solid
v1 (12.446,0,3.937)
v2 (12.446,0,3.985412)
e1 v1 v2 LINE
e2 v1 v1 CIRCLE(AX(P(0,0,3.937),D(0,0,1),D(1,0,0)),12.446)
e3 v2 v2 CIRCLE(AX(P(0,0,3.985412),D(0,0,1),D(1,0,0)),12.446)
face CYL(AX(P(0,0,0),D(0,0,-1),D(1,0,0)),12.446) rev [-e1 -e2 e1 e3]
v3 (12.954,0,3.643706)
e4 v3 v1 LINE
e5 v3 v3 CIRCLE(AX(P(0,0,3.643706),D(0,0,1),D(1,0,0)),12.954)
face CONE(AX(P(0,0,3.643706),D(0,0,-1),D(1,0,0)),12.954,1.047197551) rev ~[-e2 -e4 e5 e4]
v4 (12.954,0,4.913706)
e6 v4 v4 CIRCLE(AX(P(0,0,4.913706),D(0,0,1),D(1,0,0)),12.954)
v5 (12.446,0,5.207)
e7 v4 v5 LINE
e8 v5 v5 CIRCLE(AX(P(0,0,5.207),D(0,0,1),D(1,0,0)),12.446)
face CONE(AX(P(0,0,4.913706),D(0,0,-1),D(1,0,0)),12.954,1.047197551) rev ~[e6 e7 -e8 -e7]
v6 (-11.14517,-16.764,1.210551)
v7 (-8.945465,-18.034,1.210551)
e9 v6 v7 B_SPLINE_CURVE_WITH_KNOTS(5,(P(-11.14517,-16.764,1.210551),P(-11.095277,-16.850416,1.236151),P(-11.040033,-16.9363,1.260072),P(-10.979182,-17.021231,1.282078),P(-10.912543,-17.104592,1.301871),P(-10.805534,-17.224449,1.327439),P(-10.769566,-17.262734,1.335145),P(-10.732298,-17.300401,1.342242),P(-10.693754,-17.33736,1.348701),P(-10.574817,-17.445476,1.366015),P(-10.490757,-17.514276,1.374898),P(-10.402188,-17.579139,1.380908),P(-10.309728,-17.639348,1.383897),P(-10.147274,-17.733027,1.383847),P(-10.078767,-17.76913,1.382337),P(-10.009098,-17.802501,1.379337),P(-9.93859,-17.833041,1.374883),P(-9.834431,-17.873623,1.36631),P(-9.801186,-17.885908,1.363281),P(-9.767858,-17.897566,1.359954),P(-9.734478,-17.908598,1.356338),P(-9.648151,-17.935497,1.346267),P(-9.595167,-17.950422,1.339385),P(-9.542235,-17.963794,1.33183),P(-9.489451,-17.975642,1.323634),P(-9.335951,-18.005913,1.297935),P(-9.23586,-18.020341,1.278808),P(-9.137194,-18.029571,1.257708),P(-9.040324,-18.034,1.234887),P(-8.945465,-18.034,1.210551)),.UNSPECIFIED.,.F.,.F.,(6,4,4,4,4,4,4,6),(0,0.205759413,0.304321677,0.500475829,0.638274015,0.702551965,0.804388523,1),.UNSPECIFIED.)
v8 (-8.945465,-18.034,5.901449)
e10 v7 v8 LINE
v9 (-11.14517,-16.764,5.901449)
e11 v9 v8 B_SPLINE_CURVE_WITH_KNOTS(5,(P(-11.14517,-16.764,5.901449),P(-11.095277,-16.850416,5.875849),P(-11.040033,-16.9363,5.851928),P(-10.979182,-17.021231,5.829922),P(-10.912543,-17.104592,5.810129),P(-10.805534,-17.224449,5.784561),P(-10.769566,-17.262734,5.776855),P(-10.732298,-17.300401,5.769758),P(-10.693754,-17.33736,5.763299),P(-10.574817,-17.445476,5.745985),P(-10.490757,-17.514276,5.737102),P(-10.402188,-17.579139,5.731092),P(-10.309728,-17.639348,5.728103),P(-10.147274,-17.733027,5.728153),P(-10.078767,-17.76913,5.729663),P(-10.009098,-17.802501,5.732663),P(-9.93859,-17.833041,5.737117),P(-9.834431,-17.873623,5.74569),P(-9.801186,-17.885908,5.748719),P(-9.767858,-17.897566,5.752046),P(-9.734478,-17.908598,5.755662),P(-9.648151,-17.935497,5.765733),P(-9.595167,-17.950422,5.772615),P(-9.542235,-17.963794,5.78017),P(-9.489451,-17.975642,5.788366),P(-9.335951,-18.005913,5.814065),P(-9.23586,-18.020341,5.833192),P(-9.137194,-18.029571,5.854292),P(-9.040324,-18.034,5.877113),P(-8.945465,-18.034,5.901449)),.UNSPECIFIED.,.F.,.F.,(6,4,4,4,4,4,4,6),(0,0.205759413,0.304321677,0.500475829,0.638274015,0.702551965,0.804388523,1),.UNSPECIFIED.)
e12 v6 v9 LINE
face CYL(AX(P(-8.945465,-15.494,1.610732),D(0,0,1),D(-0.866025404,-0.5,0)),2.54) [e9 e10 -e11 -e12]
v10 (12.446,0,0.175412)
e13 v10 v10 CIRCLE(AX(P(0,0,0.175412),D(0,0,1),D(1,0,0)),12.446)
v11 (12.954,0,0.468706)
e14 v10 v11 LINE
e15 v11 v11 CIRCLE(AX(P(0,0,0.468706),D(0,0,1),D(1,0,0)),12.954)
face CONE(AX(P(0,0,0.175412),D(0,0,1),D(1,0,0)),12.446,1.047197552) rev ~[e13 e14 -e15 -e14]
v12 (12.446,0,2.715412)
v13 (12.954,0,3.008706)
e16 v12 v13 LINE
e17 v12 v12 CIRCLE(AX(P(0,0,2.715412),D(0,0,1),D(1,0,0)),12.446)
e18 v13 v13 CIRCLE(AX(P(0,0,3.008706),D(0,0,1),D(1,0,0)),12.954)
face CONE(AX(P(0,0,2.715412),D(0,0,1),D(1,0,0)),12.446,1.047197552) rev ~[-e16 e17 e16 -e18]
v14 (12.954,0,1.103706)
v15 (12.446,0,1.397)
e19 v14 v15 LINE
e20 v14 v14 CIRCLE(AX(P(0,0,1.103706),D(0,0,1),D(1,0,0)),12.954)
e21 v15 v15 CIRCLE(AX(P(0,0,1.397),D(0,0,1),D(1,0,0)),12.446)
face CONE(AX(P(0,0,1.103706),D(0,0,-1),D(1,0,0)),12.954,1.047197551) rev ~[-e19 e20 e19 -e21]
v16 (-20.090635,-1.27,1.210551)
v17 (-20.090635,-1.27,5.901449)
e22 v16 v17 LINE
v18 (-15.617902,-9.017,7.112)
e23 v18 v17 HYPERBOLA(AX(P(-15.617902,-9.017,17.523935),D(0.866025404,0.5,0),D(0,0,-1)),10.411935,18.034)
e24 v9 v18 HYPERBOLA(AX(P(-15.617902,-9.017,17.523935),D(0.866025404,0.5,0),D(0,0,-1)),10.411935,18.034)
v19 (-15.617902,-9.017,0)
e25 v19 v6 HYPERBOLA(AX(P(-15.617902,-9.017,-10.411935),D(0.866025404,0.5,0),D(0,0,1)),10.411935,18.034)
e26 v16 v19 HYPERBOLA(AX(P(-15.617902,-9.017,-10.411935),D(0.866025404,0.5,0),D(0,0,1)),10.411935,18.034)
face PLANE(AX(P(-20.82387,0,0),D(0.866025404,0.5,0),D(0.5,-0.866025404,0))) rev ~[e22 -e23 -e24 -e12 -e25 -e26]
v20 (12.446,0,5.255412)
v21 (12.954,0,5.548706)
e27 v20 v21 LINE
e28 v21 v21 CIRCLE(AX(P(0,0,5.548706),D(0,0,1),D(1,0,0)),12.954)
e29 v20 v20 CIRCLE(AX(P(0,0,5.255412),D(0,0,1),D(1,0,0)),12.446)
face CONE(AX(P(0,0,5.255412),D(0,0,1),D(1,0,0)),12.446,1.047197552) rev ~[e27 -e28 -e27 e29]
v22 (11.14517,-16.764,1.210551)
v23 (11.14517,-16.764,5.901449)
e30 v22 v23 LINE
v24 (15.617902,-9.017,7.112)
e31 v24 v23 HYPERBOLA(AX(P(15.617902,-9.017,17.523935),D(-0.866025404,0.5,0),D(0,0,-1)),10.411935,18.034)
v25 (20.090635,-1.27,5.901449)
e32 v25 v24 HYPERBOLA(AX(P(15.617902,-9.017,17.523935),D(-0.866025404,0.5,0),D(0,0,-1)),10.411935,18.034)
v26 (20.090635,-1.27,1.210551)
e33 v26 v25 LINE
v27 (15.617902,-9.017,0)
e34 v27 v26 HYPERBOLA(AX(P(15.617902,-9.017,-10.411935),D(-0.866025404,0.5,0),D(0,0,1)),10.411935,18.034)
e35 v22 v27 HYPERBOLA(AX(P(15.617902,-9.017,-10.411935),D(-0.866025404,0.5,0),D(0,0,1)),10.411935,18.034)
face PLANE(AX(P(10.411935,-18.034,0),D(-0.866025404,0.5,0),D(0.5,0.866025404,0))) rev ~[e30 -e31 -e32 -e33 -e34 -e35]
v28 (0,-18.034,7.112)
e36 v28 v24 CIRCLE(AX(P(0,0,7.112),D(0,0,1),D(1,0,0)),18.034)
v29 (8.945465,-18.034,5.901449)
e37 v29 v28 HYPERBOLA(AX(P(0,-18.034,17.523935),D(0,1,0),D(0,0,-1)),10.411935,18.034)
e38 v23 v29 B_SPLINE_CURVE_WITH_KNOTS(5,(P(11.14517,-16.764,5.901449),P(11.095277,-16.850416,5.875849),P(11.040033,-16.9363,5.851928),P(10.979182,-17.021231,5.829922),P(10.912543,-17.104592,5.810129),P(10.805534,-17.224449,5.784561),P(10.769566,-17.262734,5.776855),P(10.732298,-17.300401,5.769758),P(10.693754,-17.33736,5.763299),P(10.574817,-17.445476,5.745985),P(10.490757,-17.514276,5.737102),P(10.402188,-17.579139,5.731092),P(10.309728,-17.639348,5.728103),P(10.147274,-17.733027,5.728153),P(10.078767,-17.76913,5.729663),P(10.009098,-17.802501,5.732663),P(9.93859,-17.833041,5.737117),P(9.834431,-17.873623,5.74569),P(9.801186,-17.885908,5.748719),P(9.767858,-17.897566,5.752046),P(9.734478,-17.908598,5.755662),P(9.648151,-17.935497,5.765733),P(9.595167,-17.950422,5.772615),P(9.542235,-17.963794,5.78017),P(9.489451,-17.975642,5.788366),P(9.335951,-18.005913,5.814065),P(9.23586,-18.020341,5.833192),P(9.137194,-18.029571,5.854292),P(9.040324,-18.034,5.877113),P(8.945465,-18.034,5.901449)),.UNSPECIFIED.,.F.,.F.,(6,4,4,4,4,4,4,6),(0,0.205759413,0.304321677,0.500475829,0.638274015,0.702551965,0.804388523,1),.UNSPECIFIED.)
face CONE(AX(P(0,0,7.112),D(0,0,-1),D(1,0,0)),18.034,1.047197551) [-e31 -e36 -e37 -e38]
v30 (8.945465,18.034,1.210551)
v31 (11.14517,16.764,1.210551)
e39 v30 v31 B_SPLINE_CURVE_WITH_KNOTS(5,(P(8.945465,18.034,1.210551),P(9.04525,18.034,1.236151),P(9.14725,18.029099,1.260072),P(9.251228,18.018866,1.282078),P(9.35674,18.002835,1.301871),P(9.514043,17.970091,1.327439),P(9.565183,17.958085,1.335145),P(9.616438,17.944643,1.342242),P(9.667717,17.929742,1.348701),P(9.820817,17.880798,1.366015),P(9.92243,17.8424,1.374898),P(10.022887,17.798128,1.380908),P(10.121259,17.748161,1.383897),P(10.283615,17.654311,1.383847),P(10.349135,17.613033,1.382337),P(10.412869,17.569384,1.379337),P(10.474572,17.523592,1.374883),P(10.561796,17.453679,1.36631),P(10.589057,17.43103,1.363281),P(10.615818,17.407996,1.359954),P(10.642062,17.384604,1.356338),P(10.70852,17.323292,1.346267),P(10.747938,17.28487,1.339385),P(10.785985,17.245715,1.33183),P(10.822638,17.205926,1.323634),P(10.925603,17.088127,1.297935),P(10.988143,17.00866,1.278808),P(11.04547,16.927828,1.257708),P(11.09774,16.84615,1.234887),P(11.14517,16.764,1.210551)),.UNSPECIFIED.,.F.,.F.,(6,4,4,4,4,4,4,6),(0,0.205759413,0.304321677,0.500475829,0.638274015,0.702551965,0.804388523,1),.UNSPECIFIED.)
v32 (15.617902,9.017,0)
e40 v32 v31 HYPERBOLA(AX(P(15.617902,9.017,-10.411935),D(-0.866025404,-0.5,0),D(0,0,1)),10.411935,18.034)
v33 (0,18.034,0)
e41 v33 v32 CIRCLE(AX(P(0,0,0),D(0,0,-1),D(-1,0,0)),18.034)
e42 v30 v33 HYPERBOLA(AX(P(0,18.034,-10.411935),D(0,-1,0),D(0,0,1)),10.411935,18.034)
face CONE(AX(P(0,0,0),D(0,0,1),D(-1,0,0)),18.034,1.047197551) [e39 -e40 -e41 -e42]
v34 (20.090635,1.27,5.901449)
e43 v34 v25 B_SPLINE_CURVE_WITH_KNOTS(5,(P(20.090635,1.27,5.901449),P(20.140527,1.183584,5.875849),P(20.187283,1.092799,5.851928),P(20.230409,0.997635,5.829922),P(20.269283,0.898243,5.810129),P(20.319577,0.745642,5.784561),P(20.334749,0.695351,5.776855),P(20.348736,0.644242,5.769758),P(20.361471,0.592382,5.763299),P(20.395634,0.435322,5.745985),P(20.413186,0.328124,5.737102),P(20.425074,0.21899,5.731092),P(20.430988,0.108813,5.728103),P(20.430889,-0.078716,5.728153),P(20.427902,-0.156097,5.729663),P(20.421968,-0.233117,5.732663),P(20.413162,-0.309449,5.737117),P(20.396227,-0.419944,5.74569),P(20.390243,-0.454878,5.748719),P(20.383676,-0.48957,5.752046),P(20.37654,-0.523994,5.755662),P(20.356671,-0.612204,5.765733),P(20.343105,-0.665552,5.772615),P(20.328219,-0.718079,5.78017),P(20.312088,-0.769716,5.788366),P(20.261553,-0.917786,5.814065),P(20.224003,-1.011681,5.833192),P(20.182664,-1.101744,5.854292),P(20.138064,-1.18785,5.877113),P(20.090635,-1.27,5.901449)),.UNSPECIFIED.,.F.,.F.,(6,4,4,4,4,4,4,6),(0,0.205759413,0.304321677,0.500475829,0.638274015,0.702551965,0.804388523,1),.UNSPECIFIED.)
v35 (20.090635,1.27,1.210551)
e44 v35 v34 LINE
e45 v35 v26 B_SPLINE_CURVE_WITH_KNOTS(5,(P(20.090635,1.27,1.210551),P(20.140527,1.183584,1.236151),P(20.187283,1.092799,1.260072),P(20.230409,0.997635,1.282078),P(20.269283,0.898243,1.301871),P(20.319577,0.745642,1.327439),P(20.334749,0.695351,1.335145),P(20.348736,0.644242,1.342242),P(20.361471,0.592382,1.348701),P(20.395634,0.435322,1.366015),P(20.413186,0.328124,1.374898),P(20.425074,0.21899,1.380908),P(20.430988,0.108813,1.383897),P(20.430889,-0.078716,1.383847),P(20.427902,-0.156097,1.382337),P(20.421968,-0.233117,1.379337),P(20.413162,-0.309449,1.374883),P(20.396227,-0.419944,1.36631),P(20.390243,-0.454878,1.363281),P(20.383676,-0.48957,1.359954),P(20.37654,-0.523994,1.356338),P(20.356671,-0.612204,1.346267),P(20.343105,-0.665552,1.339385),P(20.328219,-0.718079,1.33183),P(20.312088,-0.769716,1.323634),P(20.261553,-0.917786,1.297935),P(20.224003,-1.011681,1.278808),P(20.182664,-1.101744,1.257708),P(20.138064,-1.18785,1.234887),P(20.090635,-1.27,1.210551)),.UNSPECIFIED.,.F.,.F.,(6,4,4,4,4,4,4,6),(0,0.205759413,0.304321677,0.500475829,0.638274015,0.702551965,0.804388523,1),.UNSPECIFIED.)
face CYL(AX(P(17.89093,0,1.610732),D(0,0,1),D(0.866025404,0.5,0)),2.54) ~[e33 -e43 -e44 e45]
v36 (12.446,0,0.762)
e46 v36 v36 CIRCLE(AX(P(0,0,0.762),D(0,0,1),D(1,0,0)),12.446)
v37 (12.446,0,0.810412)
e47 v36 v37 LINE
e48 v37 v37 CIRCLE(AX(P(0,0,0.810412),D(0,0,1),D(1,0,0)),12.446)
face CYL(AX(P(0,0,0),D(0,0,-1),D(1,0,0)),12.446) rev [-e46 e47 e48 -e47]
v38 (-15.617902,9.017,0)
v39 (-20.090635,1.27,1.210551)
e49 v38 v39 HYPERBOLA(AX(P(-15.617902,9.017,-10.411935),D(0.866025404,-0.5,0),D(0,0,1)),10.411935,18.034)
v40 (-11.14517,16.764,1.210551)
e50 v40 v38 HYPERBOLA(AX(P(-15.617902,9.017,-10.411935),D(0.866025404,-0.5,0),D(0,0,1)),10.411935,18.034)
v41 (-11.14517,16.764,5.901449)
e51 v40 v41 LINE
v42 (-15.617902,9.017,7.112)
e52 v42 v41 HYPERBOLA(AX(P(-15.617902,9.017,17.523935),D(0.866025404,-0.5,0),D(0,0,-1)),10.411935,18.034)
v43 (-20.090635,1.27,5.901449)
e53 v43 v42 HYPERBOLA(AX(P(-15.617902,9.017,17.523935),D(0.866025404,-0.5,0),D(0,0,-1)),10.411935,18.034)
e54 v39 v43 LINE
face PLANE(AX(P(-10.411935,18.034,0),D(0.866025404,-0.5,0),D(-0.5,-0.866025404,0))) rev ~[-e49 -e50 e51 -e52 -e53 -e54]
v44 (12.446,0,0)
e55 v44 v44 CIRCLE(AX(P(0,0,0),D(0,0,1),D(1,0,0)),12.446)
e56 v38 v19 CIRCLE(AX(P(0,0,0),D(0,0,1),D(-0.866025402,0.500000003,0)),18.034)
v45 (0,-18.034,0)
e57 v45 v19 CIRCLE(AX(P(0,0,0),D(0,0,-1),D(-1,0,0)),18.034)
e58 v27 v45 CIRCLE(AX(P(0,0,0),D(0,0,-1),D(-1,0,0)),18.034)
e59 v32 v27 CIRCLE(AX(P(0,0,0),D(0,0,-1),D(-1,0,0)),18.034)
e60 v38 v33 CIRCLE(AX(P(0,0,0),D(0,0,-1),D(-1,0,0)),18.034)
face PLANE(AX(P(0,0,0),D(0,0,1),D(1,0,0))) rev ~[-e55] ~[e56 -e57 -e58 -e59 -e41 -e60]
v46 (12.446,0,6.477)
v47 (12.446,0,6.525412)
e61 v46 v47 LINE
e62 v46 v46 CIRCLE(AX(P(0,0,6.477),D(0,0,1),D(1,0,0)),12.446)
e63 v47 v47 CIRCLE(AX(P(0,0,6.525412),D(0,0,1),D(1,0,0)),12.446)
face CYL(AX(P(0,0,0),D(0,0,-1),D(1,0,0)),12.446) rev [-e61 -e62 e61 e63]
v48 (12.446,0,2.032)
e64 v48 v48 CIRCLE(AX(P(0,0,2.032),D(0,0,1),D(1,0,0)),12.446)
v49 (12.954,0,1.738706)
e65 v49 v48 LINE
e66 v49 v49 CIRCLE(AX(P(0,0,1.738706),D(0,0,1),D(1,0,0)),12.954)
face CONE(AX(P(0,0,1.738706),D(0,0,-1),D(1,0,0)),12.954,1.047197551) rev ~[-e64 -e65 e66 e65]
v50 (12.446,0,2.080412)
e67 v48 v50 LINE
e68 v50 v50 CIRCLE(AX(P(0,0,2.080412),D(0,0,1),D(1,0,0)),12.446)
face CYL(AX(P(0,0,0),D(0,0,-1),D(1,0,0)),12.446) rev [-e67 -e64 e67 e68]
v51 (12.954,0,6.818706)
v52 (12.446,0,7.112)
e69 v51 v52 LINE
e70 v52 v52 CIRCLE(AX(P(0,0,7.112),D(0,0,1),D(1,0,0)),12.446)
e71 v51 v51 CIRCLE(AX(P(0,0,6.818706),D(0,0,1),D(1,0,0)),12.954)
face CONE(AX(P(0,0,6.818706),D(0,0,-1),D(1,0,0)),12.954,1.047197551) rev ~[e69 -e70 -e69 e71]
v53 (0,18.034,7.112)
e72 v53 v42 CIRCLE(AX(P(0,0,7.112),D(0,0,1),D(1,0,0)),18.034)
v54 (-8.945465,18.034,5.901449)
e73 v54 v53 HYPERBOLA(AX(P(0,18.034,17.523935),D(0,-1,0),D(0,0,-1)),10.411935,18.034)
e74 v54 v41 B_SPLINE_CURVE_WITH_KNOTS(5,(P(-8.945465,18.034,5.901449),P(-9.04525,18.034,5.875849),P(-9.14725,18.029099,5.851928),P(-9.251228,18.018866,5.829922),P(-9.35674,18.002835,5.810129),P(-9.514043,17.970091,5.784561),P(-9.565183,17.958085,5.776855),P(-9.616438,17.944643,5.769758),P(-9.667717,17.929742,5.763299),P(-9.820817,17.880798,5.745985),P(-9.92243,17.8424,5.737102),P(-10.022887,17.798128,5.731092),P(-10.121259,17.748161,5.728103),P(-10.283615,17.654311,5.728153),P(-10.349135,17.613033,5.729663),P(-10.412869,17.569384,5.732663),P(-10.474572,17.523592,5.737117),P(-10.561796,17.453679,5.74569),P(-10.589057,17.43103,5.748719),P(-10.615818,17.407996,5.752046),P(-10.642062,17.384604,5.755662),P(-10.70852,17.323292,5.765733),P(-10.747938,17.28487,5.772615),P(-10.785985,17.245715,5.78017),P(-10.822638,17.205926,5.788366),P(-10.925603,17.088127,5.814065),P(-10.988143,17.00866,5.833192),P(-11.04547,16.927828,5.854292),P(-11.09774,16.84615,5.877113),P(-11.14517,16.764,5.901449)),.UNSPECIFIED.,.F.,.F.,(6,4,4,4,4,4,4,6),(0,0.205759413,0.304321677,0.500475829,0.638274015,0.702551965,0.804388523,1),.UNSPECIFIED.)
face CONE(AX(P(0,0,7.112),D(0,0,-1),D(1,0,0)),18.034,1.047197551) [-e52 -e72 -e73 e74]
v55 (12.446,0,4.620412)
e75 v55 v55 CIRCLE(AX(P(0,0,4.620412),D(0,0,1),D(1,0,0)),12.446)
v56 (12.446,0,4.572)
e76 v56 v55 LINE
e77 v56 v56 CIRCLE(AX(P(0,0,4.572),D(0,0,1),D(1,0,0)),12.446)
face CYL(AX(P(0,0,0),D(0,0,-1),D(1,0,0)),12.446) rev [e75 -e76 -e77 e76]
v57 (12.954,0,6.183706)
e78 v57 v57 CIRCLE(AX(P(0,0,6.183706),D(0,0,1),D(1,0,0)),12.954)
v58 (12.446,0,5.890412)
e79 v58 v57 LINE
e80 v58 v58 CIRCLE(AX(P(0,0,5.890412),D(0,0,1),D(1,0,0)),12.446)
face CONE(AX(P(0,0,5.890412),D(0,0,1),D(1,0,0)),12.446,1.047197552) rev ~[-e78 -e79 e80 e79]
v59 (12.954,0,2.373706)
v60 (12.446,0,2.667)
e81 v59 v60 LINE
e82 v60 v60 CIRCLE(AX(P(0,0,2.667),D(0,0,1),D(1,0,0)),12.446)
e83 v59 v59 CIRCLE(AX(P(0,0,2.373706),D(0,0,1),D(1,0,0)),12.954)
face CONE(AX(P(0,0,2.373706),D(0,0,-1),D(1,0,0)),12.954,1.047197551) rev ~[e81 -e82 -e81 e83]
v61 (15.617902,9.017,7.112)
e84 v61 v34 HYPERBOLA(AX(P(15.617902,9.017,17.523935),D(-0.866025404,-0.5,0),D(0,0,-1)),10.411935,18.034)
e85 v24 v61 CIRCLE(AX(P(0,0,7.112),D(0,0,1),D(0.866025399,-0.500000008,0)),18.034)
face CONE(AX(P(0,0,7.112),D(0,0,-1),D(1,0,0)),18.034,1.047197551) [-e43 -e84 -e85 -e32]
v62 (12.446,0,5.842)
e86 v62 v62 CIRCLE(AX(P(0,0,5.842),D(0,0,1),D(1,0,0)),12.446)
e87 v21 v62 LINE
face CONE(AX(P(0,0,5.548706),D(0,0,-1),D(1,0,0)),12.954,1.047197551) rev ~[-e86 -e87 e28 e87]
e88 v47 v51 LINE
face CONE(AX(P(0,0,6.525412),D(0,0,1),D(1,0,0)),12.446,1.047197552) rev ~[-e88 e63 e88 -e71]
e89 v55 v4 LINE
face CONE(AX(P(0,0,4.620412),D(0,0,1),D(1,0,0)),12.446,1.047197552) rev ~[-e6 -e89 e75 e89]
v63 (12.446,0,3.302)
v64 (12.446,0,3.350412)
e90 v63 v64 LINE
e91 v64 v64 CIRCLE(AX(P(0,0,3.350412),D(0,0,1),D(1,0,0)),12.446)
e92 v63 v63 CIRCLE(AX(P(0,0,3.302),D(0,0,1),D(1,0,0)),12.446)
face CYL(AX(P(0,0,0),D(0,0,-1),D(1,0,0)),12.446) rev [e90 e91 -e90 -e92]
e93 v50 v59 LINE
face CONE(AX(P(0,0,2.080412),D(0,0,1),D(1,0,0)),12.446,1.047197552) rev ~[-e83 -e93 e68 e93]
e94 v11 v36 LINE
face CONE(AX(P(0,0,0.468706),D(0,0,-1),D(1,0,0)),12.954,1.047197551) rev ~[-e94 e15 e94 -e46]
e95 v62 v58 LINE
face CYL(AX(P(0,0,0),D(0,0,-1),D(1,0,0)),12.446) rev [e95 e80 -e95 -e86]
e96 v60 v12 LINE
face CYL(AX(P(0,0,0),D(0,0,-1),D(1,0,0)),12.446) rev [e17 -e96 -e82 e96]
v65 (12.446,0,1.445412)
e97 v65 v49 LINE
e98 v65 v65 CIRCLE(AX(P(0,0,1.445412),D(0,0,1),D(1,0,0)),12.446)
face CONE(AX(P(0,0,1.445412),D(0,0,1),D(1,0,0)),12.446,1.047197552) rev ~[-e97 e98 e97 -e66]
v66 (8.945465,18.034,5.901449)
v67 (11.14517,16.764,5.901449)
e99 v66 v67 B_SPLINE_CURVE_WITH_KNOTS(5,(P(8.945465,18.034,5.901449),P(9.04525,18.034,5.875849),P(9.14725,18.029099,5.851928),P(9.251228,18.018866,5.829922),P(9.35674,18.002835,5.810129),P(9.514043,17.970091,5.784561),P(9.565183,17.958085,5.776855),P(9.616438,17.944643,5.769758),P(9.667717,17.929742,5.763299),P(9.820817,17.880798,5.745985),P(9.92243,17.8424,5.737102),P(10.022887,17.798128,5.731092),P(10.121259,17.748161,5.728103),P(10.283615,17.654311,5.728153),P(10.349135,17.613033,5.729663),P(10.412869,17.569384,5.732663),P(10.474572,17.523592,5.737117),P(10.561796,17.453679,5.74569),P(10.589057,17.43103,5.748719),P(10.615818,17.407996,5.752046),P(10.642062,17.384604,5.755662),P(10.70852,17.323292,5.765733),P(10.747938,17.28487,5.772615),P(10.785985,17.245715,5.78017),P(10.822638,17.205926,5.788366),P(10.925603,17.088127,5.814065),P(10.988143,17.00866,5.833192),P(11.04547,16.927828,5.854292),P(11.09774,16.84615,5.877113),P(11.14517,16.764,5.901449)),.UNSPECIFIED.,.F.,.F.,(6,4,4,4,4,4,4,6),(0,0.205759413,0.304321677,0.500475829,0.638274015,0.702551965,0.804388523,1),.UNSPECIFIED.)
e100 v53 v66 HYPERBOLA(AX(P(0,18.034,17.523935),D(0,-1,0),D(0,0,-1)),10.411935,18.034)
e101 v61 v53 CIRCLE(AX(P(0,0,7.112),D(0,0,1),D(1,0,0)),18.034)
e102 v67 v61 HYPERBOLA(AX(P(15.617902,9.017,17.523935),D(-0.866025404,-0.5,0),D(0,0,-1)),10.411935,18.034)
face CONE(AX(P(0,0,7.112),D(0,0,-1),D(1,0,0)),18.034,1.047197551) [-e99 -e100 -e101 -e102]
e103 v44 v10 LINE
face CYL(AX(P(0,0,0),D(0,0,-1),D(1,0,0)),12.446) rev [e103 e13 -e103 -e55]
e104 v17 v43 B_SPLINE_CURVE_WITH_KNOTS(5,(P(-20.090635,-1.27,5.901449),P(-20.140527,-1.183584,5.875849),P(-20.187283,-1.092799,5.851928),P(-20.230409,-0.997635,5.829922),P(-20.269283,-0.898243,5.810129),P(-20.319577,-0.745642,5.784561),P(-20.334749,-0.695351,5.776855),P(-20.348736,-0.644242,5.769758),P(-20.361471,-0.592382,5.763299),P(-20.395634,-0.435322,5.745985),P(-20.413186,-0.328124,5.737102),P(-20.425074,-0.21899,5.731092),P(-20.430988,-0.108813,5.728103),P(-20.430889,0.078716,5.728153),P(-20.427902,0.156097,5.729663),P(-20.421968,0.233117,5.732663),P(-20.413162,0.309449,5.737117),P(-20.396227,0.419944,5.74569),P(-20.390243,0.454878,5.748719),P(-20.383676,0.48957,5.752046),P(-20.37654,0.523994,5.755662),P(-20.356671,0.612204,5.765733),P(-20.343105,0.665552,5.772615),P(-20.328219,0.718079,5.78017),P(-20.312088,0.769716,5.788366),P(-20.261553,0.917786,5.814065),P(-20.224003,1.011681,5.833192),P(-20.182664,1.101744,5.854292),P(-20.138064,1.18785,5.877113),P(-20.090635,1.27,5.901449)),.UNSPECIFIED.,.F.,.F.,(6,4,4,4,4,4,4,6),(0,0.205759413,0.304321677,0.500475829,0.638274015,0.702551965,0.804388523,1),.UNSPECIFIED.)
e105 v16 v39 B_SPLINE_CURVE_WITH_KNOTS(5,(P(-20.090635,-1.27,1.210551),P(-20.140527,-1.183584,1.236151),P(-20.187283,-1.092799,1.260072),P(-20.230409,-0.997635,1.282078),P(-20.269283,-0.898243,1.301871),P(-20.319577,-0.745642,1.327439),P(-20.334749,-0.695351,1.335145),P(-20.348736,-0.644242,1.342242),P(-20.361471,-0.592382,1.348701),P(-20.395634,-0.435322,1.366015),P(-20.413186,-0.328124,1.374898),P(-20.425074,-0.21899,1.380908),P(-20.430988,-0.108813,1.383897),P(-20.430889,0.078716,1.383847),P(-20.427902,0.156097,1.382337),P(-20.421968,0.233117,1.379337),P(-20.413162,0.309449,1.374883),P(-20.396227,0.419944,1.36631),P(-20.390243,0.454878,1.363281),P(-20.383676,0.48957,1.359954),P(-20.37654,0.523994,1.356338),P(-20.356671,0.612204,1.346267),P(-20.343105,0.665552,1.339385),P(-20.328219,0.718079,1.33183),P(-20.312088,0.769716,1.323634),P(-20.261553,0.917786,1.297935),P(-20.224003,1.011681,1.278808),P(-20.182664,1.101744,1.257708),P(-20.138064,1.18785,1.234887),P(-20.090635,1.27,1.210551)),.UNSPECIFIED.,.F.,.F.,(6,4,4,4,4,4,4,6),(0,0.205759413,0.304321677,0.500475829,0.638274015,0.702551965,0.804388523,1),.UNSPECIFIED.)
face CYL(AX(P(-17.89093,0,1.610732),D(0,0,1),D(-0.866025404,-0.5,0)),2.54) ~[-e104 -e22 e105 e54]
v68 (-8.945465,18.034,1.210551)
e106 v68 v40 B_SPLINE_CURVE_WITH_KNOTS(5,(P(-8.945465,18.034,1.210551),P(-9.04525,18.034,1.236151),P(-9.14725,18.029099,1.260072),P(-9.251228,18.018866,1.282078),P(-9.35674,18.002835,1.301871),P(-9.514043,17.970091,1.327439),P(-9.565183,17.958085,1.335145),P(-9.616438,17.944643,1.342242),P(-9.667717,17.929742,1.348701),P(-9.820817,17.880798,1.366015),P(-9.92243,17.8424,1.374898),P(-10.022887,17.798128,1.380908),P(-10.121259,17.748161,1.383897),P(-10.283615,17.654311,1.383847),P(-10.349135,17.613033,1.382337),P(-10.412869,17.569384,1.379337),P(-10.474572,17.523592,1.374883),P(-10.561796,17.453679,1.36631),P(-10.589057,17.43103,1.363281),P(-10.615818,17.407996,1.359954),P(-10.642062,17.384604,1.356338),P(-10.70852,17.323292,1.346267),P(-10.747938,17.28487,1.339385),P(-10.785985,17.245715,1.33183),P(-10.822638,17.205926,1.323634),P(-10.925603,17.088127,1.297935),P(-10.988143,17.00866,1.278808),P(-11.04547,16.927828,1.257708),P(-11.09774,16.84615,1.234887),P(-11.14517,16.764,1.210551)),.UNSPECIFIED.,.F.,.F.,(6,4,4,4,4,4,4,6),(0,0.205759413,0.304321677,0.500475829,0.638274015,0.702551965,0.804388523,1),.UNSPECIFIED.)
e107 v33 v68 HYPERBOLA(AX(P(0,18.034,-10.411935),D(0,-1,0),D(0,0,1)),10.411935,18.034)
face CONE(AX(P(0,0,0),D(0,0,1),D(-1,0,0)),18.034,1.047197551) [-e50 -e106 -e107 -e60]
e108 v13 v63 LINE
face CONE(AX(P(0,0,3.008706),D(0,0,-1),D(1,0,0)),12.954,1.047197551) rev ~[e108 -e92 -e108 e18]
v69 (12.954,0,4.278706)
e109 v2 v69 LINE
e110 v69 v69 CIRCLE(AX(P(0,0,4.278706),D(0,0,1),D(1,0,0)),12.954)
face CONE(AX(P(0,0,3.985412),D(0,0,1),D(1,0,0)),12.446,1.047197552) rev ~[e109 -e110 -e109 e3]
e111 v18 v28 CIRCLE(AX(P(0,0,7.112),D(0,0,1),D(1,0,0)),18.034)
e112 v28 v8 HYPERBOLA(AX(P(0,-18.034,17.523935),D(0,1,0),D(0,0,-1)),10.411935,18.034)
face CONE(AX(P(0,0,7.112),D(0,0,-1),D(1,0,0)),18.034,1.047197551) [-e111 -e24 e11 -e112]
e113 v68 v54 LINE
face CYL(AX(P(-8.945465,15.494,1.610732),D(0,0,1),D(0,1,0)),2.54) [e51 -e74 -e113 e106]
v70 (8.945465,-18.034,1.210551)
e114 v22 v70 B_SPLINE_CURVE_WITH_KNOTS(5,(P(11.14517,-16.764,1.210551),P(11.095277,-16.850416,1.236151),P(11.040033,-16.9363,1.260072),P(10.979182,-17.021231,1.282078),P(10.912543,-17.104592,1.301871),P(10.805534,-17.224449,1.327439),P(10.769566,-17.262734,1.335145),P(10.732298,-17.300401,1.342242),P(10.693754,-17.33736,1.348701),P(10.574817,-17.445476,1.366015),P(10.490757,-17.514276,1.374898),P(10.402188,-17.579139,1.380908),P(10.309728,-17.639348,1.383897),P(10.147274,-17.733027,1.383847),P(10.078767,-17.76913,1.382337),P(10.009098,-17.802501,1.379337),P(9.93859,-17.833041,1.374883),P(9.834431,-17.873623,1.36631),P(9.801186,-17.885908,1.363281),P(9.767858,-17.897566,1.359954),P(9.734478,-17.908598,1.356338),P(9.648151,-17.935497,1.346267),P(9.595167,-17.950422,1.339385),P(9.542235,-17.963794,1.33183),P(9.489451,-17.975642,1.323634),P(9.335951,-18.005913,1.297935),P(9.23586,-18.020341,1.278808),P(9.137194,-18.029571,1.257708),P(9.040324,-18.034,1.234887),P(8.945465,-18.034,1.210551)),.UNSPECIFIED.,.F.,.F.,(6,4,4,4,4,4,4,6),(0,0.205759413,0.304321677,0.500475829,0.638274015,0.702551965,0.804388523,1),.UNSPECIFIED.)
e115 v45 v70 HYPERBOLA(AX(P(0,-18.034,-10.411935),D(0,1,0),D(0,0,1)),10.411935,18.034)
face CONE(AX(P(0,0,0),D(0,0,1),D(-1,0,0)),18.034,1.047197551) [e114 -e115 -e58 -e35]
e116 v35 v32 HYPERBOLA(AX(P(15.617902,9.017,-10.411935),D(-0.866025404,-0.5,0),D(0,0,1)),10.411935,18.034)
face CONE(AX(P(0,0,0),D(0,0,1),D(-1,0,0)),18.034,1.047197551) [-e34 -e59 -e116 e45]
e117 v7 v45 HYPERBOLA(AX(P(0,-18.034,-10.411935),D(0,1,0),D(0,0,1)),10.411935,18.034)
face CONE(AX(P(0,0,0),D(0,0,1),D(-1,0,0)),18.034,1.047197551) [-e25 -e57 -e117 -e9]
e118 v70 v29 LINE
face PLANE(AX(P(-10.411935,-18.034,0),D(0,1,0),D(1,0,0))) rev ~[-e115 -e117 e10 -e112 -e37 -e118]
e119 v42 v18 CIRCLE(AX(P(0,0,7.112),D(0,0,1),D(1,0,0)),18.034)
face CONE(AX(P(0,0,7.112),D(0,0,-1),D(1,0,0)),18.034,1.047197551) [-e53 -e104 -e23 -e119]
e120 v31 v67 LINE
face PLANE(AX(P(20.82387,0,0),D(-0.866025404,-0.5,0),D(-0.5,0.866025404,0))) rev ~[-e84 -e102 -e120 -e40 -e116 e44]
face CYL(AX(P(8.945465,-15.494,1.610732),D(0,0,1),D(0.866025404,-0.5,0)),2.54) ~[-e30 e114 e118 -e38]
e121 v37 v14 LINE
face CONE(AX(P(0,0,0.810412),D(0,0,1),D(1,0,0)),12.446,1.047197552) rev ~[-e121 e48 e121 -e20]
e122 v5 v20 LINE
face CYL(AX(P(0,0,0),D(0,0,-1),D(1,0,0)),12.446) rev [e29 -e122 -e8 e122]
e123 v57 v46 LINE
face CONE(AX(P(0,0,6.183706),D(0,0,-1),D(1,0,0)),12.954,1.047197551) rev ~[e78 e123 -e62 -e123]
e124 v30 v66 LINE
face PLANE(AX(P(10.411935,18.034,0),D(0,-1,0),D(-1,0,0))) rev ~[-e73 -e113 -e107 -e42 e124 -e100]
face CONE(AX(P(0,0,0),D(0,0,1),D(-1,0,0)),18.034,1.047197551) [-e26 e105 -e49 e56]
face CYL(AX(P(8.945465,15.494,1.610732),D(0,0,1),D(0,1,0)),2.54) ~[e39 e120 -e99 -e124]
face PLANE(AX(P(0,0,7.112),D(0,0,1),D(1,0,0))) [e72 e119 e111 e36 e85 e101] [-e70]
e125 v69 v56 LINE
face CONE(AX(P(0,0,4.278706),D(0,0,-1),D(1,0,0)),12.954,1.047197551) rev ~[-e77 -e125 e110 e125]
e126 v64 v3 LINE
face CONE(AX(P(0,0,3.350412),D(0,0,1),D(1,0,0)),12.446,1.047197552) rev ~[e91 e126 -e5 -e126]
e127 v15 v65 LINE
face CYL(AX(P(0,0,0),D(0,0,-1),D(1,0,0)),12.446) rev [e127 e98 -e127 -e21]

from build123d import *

# Parameters (mm, degrees)
SKETCH1_R          = 12.446
EXTRUDE1_DEPTH     = 7.112
SKETCH2_OUTSIDE_W  = 82.86
SKETCH2_OUTSIDE_H  = 77.28
SKETCH2_OUTSIDE_R  = 18.034
CUT_EXTRUDE1_DEPTH = 8.112
CUT_EXTRUDE1_DRAFT = -60
SKETCH3_OUTSIDE_W  = 82.86
SKETCH3_OUTSIDE_H  = 77.28
SKETCH3_OUTSIDE_R  = 18.034
CUT_EXTRUDE2_DEPTH = 8.112
CUT_EXTRUDE2_DRAFT = -60
FILLET1_R          = 2.54
LPATTERN1_COUNT    = 11
LPATTERN1_PITCH    = 0.635


with BuildPart() as part:
    # Sketch1 → Extrude1 (new body)
    with BuildSketch(Plane.XY):
        Polygon((-20.823869509, 0), (-10.411934755, -18.034), (10.411934755, -18.034), (20.823869509, 0), (10.411934755, 18.034), (-10.411934755, 18.034), align=None)
        Circle(SKETCH1_R, mode=Mode.SUBTRACT)
    extrude(amount=EXTRUDE1_DEPTH)


with BuildPart() as cut_extrude1_tool:
    # Sketch2 outside → Cut-Extrude1 (with draft: the straight prism first)
    with BuildSketch(Plane.XY.offset(7.112)):
        Rectangle(SKETCH2_OUTSIDE_W, SKETCH2_OUTSIDE_H)
        Circle(SKETCH2_OUTSIDE_R, mode=Mode.SUBTRACT)
    extrude(amount=-CUT_EXTRUDE1_DEPTH)
    # Cut-Extrude1: the draft: its side faces are tilted about the plane it starts from
    cut_extrude1_sides = [cut_extrude1_tool.faces().sort_by_distance(p)[0] for p in [
        (0, -38.64, 3.056),
        (41.43, 0, 3.056),
        (0, 38.64, 3.056),
        (-41.43, 0, 3.056),
        (-18.034, 0, 3.056),
    ]]
    draft(cut_extrude1_sides, Plane.XY.offset(7.112), CUT_EXTRUDE1_DRAFT)


with BuildPart() as part_1:
    add(part.part)

    # Cut-Extrude1: cut by cut_extrude1_tool
    add(cut_extrude1_tool.part, mode=Mode.SUBTRACT)


with BuildPart() as cut_extrude2_tool:
    # Sketch3 outside → Cut-Extrude2 (with draft: the straight prism first)
    with BuildSketch(Plane(origin=(0, 0, 0), x_dir=(-1, 0, 0), z_dir=(0, 0, -1))):
        Rectangle(SKETCH3_OUTSIDE_W, SKETCH3_OUTSIDE_H)
        Circle(SKETCH3_OUTSIDE_R, mode=Mode.SUBTRACT)
    extrude(amount=-CUT_EXTRUDE2_DEPTH)
    # Cut-Extrude2: the draft: its side faces are tilted about the plane it starts from
    cut_extrude2_sides = [cut_extrude2_tool.faces().sort_by_distance(p)[0] for p in [
        (0, -38.64, 4.056),
        (-41.43, 0, 4.056),
        (0, 38.64, 4.056),
        (41.43, 0, 4.056),
        (18.034, 0, 4.056),
    ]]
    draft(cut_extrude2_sides, Plane(origin=(0, 0, 0), x_dir=(-1, 0, 0), z_dir=(0, 0, -1)), CUT_EXTRUDE2_DRAFT)


with BuildPart() as part_2:
    add(part_1.part)

    # Cut-Extrude2: cut by cut_extrude2_tool
    add(cut_extrude2_tool.part, mode=Mode.SUBTRACT)

    # Fillet1
    fillet1_edges = [part_2.edges().sort_by_distance(p)[0] for p in [
        (20.823869509, 0, 3.556),
        (10.411934755, -18.034, 3.556),
        (-10.411934755, -18.034, 3.556),
        (-20.823869509, 0, 3.556),
        (-10.411934755, 18.034, 3.556),
        (10.411934755, 18.034, 3.556),
    ]]
    fillet(fillet1_edges, radius=FILLET1_R)

    # Sketch4 → Cut-Revolve1 (revolve, cut)
    with BuildSketch(Plane(origin=(0, 0, 0), x_dir=(1, 0, 0), z_dir=(0, 1, 0)), mode=Mode.PRIVATE) as cut_revolve1_sk:
        Polygon((-12.446, -7.112), (-12.446, -6.525412127), (-12.954, -6.818706063), align=None)
    cut_revolve1 = revolve(cut_revolve1_sk.sketch.rotate(Axis((0, 0, 0), (0, 0, 1)), 180), axis=Axis((0, 0, 0), (0, 0, 1)), mode=Mode.SUBTRACT)  # turned: the seam where the file's is

    # LPattern1: Cut-Revolve1 ×11
    with Locations(*[(0, 0, -i * LPATTERN1_PITCH) for i in range(1, LPATTERN1_COUNT)]):
        add(cut_revolve1, mode=Mode.SUBTRACT)


solid = part_2.part
